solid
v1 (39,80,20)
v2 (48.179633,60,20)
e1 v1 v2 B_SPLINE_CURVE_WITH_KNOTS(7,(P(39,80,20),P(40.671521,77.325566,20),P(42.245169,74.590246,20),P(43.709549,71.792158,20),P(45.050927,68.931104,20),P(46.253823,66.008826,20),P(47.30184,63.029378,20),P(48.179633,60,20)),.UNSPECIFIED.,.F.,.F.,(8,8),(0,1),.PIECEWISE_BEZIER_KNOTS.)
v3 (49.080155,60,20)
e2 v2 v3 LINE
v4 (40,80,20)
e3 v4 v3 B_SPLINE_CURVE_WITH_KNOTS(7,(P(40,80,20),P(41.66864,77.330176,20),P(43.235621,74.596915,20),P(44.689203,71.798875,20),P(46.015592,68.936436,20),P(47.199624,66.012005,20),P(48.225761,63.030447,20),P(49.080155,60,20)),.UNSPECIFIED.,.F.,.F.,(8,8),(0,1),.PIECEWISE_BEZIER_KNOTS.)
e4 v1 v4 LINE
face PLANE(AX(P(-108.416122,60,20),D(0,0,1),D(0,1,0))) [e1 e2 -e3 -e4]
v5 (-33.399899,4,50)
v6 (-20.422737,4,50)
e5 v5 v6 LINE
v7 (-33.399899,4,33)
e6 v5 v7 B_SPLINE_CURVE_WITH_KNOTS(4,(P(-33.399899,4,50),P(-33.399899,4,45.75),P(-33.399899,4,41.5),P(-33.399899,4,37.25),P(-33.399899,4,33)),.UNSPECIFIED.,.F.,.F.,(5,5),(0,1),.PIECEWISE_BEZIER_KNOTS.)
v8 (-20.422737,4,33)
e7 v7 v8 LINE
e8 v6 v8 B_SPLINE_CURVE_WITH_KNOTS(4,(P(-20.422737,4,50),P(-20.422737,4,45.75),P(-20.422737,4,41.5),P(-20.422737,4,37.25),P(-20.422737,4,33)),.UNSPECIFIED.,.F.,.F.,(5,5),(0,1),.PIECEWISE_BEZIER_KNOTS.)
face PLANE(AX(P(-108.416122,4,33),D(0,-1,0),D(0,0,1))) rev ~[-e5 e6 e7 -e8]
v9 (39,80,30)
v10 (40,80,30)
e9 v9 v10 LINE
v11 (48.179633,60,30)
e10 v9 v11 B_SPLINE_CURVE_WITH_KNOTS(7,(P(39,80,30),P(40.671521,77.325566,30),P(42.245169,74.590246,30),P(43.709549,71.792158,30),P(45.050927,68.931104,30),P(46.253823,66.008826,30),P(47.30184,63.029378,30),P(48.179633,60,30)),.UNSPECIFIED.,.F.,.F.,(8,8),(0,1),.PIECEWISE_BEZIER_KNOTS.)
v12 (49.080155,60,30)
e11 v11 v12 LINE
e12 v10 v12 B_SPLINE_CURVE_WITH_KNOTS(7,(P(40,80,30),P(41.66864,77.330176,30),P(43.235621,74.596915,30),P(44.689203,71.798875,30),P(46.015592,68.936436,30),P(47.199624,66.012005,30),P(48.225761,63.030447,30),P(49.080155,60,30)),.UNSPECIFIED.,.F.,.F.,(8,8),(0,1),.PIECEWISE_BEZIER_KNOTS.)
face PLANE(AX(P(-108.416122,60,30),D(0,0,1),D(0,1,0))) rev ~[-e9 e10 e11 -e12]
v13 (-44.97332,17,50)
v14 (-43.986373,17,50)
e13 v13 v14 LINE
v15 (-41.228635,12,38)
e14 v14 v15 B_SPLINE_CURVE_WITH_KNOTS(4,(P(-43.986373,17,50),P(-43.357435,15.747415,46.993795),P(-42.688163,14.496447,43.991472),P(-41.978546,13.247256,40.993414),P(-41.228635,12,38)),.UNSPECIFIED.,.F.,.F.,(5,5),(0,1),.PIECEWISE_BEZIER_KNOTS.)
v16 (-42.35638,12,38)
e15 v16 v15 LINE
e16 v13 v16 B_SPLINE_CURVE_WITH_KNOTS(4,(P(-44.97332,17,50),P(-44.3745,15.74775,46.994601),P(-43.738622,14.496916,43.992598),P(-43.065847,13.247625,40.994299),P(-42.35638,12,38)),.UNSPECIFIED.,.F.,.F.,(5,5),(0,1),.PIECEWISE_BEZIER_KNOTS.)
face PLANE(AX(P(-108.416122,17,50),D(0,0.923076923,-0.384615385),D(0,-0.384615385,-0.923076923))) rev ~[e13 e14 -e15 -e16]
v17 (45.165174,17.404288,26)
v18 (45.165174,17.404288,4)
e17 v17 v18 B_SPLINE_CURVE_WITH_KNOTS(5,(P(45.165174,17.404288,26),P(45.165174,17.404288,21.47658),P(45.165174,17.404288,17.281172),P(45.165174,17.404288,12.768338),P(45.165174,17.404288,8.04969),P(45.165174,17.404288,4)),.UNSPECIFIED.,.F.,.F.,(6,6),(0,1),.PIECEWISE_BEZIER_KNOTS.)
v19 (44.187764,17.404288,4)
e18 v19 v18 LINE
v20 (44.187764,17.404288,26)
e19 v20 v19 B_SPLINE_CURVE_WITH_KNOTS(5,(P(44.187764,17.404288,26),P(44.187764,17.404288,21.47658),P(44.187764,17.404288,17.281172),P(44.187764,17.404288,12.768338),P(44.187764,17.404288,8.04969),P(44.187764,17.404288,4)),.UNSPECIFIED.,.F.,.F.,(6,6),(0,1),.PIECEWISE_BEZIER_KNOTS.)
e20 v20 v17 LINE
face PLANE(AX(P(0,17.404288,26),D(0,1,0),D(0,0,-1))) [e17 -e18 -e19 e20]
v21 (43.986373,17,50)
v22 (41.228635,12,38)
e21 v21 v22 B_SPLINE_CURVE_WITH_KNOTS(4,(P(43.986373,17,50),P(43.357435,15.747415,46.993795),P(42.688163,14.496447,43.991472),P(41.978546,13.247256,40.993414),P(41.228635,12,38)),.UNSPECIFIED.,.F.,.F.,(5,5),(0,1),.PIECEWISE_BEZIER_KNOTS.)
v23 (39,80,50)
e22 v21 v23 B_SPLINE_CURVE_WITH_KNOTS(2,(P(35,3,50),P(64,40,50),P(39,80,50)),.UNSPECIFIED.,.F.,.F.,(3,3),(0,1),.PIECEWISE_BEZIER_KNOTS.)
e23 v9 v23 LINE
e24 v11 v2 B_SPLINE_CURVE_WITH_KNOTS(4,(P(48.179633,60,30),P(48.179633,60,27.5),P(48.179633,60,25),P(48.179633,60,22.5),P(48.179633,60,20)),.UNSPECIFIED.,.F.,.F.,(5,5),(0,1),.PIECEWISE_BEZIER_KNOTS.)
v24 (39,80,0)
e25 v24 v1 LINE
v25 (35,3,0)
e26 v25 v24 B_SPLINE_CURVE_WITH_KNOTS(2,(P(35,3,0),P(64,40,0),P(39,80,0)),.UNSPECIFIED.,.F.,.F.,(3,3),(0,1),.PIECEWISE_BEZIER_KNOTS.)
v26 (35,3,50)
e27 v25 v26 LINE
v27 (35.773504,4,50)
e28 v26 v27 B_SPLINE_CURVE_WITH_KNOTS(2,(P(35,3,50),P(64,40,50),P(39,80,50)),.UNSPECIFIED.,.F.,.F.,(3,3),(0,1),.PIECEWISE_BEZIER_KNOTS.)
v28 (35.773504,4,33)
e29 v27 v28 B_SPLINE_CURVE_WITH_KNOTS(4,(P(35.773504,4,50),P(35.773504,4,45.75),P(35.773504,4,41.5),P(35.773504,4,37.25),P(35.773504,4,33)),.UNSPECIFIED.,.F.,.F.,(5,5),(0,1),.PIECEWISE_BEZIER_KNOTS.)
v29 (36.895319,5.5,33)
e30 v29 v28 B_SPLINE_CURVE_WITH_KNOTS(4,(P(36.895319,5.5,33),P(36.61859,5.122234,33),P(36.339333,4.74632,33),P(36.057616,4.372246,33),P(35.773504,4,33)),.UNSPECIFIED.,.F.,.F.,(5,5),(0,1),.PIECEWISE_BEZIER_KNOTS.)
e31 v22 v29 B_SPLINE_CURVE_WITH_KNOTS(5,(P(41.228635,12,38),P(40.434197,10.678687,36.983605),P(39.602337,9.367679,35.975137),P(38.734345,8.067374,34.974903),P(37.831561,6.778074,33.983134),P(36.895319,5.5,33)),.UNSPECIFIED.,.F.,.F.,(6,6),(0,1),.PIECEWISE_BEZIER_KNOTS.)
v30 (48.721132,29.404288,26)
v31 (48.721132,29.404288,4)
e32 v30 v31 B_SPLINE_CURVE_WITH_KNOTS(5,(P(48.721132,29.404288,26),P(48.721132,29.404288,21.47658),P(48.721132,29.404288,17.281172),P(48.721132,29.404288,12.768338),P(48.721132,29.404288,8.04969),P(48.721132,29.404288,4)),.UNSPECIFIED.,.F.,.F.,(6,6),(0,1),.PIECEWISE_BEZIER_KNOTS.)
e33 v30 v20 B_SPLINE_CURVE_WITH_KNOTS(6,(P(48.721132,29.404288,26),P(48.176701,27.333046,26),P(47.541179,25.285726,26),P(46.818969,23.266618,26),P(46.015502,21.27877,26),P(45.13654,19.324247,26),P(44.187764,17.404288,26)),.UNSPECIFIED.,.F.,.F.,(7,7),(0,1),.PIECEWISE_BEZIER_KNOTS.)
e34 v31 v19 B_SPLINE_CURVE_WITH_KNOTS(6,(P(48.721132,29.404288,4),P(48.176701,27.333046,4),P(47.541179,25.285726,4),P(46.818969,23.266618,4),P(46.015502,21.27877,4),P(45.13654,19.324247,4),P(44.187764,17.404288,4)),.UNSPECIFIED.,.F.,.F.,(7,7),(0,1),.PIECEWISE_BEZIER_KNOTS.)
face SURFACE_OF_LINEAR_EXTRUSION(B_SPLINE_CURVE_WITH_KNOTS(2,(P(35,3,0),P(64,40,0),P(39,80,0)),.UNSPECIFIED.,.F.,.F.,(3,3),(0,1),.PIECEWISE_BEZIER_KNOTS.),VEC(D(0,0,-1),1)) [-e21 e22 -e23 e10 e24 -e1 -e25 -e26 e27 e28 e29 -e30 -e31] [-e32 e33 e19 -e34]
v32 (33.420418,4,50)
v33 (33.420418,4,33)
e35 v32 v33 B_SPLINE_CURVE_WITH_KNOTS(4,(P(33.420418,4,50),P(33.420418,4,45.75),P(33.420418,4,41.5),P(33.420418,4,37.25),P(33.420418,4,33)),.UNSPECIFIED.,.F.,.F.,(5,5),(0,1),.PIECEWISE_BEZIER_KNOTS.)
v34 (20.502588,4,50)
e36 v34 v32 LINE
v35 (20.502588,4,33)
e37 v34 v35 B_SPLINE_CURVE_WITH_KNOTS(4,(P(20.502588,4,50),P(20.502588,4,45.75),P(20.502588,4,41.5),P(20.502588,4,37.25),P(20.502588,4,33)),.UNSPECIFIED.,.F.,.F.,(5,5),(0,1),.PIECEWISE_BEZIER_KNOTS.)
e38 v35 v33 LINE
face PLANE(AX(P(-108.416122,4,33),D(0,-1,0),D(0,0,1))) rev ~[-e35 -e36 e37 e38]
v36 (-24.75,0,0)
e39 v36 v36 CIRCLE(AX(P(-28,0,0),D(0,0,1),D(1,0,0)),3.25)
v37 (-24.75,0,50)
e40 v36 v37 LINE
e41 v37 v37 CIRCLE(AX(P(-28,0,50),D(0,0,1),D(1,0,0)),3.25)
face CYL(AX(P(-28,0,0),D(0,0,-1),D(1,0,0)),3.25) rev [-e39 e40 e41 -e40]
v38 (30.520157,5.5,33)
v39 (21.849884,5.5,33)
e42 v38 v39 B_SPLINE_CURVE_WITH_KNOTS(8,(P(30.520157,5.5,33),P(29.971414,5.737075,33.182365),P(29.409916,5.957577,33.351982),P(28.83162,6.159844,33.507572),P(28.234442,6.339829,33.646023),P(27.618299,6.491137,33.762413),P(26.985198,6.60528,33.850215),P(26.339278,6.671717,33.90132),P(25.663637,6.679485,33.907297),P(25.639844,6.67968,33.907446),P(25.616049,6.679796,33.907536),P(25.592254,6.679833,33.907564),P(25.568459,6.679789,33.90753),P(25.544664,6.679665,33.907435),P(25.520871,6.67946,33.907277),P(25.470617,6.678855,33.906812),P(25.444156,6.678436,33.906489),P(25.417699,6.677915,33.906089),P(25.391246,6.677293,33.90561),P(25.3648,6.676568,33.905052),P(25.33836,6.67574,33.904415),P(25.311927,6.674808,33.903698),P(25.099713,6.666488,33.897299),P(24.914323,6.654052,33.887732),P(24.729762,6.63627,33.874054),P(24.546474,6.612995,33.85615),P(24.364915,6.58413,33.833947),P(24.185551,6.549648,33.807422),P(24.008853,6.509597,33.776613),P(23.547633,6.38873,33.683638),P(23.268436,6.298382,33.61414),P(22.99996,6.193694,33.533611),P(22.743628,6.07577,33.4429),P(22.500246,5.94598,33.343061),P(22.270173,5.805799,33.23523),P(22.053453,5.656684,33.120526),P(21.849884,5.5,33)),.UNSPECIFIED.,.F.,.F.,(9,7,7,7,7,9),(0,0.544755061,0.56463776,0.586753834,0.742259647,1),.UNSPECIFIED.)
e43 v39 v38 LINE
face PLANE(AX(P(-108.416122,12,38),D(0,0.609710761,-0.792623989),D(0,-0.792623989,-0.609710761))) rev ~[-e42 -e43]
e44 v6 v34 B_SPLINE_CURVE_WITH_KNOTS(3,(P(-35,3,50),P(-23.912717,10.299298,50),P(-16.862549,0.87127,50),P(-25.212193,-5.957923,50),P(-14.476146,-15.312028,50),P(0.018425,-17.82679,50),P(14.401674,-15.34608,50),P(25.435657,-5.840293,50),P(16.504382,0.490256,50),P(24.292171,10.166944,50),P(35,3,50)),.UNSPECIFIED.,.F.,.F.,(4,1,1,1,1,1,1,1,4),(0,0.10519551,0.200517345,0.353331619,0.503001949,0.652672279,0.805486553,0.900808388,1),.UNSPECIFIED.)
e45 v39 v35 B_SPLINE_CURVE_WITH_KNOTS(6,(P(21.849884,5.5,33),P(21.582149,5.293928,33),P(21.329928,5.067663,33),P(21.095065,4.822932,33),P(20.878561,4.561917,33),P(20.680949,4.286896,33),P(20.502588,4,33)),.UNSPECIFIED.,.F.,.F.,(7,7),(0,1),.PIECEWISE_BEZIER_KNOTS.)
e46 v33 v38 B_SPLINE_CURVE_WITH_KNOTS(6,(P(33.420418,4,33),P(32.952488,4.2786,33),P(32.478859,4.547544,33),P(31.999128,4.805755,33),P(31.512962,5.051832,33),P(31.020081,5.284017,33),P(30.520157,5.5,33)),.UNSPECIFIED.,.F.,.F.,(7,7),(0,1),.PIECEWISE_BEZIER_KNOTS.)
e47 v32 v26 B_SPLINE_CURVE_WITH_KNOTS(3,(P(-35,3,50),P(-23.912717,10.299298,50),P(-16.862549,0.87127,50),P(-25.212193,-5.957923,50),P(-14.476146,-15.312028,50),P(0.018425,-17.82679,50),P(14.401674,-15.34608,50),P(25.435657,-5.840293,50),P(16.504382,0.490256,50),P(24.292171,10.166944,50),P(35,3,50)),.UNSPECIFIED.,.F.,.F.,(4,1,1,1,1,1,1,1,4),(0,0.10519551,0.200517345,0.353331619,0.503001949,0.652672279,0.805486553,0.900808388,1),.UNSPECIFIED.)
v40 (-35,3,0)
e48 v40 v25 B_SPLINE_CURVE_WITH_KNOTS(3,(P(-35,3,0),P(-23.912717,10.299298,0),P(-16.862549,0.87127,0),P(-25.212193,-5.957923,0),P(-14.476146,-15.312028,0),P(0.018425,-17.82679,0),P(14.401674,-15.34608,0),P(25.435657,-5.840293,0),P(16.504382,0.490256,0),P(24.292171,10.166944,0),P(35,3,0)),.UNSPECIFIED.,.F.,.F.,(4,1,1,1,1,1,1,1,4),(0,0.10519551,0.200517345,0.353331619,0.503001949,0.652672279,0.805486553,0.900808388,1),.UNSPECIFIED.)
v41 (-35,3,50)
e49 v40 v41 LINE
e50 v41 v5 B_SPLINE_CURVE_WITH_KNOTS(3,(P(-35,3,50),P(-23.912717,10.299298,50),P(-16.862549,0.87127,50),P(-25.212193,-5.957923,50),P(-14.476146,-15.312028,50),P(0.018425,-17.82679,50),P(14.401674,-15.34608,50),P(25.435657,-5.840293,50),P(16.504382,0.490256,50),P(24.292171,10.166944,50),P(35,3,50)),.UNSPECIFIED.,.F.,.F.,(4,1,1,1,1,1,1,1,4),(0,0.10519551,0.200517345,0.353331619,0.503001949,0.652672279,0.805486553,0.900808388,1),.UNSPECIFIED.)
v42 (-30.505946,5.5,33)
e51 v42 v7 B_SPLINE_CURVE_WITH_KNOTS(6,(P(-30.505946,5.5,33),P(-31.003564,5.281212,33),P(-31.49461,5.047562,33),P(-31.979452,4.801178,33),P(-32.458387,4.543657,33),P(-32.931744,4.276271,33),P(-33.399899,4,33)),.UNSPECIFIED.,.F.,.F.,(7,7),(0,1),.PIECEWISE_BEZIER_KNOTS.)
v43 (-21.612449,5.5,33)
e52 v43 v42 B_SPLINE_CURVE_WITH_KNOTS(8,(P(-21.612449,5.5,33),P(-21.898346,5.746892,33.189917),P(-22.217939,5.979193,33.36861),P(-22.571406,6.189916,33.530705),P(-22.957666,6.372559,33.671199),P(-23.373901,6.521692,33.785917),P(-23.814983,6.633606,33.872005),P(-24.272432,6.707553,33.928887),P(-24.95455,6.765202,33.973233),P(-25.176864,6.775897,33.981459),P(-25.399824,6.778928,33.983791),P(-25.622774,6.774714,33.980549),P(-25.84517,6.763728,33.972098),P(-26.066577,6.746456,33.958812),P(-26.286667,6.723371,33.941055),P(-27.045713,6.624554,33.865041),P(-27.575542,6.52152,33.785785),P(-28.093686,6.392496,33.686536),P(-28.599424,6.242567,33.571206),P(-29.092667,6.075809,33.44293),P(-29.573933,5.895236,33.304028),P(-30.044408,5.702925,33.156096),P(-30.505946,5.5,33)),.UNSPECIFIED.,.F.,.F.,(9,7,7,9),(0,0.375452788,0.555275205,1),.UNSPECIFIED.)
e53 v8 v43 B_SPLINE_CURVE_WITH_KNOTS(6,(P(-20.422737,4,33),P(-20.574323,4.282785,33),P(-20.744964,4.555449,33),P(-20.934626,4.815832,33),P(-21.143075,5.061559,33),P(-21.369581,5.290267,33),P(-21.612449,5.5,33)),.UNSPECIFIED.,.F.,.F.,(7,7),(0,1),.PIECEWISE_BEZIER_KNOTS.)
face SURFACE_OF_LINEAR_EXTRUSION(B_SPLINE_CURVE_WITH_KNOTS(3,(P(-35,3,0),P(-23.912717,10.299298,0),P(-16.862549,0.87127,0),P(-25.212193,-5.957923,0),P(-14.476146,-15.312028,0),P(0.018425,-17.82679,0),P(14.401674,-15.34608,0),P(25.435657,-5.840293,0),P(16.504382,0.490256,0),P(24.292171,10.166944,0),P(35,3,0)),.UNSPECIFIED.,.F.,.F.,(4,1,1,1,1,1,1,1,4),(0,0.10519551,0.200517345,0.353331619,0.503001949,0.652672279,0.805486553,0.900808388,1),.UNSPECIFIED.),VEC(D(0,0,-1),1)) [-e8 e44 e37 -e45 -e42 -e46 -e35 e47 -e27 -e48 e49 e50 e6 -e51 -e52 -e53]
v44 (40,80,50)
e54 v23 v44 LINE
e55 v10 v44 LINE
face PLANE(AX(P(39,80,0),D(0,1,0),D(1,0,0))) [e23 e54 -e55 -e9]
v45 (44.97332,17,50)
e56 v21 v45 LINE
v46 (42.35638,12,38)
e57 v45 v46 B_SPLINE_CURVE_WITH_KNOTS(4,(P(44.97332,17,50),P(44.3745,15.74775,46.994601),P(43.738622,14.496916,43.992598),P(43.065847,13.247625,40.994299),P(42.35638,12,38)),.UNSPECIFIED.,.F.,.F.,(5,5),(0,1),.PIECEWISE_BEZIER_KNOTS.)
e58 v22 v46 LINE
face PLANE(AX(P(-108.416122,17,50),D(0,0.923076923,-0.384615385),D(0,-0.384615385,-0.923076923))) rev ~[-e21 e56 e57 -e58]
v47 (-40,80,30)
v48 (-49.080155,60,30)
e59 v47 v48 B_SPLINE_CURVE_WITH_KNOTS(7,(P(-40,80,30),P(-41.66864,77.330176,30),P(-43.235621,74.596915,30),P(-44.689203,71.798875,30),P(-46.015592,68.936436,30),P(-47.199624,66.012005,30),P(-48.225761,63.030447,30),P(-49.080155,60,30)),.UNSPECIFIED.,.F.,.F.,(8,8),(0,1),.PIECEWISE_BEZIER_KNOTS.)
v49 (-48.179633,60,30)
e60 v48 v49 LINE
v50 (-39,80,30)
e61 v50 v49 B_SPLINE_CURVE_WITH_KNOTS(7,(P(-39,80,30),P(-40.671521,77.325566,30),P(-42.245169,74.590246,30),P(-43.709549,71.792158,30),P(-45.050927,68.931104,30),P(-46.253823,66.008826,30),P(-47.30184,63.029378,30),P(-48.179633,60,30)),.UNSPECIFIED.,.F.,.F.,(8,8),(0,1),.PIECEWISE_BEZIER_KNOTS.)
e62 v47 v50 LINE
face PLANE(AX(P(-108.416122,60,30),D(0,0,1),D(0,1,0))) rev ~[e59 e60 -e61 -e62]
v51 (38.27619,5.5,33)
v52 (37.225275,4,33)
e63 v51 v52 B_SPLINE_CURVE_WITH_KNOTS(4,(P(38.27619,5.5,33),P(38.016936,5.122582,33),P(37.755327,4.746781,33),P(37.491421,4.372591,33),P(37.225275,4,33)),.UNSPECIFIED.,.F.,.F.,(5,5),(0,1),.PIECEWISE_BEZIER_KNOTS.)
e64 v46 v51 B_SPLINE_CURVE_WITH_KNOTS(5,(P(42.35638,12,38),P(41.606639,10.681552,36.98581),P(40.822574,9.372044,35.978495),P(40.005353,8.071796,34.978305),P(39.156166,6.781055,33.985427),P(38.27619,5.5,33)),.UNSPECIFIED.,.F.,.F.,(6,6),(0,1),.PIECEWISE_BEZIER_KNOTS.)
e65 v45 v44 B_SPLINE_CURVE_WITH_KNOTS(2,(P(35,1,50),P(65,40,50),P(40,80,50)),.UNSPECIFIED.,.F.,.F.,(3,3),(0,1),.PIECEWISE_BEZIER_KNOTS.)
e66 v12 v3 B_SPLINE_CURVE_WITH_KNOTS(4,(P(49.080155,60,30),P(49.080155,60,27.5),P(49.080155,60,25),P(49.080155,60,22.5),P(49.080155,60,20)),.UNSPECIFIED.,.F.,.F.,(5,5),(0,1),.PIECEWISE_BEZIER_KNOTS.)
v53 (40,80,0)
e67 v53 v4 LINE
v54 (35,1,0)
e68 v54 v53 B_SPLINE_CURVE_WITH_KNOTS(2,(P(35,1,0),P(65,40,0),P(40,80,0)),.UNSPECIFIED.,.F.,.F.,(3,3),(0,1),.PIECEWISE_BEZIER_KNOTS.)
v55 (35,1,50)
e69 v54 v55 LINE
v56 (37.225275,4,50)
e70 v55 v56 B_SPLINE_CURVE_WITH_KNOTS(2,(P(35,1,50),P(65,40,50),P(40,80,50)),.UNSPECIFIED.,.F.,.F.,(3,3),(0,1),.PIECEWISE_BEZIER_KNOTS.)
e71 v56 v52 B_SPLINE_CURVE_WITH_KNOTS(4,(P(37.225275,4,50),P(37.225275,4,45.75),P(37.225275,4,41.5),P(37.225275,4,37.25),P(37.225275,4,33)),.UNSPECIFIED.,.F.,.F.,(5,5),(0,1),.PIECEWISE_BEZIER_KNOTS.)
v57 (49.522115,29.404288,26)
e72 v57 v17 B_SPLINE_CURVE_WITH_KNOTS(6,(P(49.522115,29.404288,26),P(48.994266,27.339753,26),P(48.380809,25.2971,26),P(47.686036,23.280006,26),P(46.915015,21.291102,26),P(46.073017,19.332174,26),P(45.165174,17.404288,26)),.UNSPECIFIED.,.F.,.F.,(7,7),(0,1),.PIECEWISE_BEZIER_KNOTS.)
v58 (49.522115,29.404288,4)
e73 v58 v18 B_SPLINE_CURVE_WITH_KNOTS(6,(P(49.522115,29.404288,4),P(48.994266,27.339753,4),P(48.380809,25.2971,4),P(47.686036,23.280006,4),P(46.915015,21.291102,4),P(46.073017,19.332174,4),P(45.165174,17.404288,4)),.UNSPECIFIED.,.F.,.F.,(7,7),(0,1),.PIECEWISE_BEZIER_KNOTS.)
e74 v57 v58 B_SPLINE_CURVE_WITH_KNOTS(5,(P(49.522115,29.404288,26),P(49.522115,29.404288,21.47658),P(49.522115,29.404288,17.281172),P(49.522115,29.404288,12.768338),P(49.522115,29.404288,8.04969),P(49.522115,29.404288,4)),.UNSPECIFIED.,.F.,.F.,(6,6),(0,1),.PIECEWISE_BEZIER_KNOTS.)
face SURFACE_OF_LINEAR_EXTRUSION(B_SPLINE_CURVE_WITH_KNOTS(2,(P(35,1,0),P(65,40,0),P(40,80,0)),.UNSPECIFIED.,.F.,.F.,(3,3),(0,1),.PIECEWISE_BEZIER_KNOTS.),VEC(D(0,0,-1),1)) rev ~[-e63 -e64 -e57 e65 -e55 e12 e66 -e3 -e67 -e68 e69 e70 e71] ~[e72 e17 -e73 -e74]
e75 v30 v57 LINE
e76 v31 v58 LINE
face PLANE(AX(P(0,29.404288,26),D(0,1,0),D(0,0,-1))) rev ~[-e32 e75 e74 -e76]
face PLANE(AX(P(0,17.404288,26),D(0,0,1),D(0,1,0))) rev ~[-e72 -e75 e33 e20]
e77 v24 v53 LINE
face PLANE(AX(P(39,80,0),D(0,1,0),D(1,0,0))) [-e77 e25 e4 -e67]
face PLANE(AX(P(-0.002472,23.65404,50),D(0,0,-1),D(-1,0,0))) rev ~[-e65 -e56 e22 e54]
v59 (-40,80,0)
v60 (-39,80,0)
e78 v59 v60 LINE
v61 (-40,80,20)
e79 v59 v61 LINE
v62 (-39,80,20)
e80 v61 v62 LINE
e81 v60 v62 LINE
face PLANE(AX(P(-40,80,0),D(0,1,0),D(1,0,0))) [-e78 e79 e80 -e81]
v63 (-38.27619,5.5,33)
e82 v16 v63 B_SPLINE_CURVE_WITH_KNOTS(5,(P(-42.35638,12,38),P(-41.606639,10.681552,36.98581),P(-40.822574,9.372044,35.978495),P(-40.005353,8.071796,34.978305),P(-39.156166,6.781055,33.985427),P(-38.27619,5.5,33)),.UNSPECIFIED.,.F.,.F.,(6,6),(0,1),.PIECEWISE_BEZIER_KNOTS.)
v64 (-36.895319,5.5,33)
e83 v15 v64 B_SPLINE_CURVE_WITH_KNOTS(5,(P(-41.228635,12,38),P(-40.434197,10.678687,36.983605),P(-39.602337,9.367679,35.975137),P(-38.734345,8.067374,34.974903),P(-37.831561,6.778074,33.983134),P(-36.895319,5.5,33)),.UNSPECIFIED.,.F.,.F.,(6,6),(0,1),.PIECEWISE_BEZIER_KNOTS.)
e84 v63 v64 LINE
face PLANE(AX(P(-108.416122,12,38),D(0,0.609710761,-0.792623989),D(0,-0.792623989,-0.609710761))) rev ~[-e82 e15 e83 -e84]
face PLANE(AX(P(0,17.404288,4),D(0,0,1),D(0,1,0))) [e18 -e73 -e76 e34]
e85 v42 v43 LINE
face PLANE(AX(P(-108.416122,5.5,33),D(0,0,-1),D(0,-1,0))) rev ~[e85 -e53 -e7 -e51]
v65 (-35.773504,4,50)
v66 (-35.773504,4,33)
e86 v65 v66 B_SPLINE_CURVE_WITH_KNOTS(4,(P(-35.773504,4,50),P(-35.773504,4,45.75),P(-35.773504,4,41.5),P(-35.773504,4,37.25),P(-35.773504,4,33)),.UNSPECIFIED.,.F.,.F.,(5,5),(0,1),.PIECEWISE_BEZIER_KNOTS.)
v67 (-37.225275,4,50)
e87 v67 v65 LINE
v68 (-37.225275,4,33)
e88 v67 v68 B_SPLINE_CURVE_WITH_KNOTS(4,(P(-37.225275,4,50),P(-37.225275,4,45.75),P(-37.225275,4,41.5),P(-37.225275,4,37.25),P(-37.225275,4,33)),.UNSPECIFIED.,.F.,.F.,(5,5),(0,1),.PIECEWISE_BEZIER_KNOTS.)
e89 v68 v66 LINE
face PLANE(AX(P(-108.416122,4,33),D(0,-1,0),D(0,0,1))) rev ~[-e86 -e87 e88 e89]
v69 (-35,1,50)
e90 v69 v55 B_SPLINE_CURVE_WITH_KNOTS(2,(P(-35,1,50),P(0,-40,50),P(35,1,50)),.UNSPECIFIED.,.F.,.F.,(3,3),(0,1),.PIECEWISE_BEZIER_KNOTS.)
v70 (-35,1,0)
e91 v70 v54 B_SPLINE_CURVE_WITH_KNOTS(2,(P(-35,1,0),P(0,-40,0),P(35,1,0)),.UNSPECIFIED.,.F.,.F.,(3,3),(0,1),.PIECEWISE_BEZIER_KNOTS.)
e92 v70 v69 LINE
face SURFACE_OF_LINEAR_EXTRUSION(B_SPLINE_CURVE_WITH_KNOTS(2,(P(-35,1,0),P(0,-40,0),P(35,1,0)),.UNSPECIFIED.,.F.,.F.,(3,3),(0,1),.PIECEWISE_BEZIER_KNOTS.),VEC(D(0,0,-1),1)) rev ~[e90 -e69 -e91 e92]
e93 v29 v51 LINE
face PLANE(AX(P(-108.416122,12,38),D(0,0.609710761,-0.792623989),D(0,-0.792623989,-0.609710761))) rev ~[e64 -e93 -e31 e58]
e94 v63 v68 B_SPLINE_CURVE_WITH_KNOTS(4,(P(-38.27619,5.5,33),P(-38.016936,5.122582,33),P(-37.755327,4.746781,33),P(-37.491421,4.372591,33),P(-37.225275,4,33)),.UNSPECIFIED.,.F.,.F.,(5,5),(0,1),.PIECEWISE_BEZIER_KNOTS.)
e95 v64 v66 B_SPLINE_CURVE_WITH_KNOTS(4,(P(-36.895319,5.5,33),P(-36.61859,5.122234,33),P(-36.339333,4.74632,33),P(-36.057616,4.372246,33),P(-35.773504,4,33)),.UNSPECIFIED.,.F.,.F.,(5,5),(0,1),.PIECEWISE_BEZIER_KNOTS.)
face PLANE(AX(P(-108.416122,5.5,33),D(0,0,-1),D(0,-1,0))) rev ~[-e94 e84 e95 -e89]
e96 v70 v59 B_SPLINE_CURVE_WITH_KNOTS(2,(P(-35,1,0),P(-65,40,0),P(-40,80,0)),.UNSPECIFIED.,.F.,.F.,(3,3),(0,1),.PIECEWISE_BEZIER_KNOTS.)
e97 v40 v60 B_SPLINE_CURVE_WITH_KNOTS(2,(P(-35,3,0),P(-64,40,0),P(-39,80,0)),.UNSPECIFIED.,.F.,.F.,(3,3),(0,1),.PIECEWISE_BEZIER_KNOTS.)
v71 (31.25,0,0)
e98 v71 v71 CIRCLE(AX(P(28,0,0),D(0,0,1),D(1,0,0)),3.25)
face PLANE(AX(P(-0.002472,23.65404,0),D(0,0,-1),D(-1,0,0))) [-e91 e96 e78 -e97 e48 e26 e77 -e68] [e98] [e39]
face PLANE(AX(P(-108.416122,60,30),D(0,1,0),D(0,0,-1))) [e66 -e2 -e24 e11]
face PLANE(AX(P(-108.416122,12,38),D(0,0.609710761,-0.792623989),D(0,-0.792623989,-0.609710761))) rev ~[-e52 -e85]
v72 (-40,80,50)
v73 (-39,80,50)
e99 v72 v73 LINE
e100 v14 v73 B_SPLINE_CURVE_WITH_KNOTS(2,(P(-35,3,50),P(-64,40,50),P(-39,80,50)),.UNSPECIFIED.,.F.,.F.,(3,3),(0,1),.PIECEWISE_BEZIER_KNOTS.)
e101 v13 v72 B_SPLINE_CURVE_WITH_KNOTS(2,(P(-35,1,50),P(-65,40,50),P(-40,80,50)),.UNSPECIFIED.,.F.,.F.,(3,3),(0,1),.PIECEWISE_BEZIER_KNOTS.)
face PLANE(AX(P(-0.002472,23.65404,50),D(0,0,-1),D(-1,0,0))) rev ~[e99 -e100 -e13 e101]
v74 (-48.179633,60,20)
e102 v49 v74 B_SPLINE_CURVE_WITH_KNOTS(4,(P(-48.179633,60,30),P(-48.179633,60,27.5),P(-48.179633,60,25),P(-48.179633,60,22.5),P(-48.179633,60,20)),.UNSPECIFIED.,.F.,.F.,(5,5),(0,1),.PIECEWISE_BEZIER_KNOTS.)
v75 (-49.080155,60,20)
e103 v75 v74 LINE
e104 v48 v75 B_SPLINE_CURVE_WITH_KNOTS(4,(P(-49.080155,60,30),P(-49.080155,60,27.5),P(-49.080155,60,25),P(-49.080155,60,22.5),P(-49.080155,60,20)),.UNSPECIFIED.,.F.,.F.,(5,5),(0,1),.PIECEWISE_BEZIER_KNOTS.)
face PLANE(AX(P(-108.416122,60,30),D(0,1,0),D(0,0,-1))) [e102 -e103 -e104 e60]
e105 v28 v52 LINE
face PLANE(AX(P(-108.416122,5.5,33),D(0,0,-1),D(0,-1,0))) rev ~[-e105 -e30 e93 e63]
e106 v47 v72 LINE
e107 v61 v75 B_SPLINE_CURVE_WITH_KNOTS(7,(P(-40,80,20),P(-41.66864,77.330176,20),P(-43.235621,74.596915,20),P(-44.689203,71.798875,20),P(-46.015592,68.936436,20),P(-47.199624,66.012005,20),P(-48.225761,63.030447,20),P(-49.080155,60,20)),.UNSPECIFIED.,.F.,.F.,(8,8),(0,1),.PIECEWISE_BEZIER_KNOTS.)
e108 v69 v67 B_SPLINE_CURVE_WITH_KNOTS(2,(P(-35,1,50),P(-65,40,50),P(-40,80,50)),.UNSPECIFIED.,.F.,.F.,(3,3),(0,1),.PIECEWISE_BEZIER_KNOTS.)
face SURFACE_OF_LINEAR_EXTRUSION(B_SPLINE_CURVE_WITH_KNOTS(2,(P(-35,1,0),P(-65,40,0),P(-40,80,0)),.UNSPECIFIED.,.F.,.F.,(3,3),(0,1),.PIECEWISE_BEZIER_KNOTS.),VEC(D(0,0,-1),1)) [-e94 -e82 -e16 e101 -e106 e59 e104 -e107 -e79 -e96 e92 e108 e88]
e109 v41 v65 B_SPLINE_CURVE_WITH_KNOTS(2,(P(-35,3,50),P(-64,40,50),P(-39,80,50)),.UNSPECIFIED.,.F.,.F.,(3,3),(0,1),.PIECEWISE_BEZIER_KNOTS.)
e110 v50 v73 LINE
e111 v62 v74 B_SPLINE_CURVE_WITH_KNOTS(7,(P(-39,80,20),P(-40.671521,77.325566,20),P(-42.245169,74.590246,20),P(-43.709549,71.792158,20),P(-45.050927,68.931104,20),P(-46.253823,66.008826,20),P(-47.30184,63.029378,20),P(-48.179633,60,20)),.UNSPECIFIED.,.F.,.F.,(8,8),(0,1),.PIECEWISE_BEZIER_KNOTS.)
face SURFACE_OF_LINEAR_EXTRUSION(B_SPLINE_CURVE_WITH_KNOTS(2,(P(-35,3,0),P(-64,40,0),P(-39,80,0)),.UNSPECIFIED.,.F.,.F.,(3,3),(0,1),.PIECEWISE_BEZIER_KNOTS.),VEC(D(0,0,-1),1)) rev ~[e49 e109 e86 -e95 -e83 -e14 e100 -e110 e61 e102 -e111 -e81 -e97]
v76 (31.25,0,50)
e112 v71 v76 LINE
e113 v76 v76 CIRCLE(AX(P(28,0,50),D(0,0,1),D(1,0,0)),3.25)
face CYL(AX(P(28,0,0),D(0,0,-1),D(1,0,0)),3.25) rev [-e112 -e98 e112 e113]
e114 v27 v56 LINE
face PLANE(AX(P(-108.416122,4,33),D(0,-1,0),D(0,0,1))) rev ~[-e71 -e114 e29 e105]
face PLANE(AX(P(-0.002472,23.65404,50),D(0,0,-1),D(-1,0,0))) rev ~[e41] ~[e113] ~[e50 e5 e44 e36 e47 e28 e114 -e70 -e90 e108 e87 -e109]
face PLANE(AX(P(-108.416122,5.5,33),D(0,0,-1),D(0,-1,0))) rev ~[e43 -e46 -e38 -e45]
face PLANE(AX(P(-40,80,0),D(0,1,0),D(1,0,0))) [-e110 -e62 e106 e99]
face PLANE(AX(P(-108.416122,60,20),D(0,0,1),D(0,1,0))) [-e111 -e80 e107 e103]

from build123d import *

# Parameters (mm, degrees)
SKETCH_1_R               = 3.25
EXTRUDE_1_DEPTH          = 50
CUT_EXTRUDE_2_DEPTH      = 108.416121587
CUT_EXTRUDE_2_DEPTH_BACK = 108.416121587
CUT_EXTRUDE_3_DEPTH      = 108.416121587
CUT_EXTRUDE_3_DEPTH_BACK = 108.416121587
SKETCH_3_W               = 10
SKETCH_3_H               = 20
SKETCH_4_W               = 22
SKETCH_4_H               = 12
CUT_EXTRUDE_4_DEPTH      = 108.416121587


with BuildPart() as part:
    # 草圖1 → 填料-伸長1 (new body)
    with BuildSketch(Plane.XY):
        with BuildLine():
            Line((-40, 80), (-39, 80))
            add(Edge.make_bspline(
                [(-35, 3), (-64, 40), (-39, 80)],
                knots=[0, 0, 0, 1, 1, 1], degree=2))
            add(Edge.make_bspline(
                [(-35, 3), (-23.912717134, 10.299298392), (-16.862548977, 0.871270246), (-25.21219254, -5.957923056), (-14.476146204, -15.312027713), (0.018424546, -17.826789504), (14.401673974, -15.346079531), (25.43565684, -5.840292798), (16.50438221, 0.490256203), (24.292170801, 10.166944331), (35, 3)],
                knots=[0, 0, 0, 0, 0.10519551, 0.200517345, 0.353331619, 0.503001949, 0.652672279, 0.805486553, 0.900808388, 1, 1, 1, 1], degree=3))
            add(Edge.make_bspline(
                [(35, 3), (64, 40), (39, 80)],
                knots=[0, 0, 0, 1, 1, 1], degree=2))
            Line((39, 80), (40, 80))
            add(Edge.make_bspline(
                [(35, 1), (65, 40), (40, 80)],
                knots=[0, 0, 0, 1, 1, 1], degree=2))
            add(Edge.make_bspline(
                [(-35, 1), (0, -40), (35, 1)],
                knots=[0, 0, 0, 1, 1, 1], degree=2))
            add(Edge.make_bspline(
                [(-35, 1), (-65, 40), (-40, 80)],
                knots=[0, 0, 0, 1, 1, 1], degree=2))
        make_face()
        with Locations((-28, 0)):
            Circle(SKETCH_1_R, mode=Mode.SUBTRACT)
        with Locations((28, 0)):
            Circle(SKETCH_1_R, mode=Mode.SUBTRACT)
    extrude(amount=EXTRUDE_1_DEPTH)

    # 草圖2 → 除料-伸長2 (cut, two sides: drawn at the far end of the back side and taken through both)
    with BuildSketch(Plane(origin=(0, 0, 0), x_dir=(0, 0, -1), z_dir=(1, 0, 0)).offset(-CUT_EXTRUDE_2_DEPTH_BACK)):
        Polygon((-133, 13.5), (-50, 13.5), (-50, 17), (-38, 12), (-33, 5.5), (-33, 4), (-50, 4), (-56.745181032, 0.5), (-133, 0.5), align=None)
    extrude(amount=CUT_EXTRUDE_2_DEPTH + CUT_EXTRUDE_2_DEPTH_BACK, mode=Mode.SUBTRACT)

    # 草圖3 → 除料-伸長3 (cut, two sides: drawn at the far end of the back side and taken through both)
    with BuildSketch(Plane(origin=(0, 0, 0), x_dir=(0, 0, -1), z_dir=(1, 0, 0)).offset(-CUT_EXTRUDE_3_DEPTH_BACK)):
        with Locations((-25, 70)):
            Rectangle(SKETCH_3_W, SKETCH_3_H)
    extrude(amount=CUT_EXTRUDE_3_DEPTH + CUT_EXTRUDE_3_DEPTH_BACK, mode=Mode.SUBTRACT)

    # 草圖4 → 除料-伸長4 (cut, through all)
    with BuildSketch(Plane(origin=(0, 0, 0), x_dir=(0, 0, -1), z_dir=(1, 0, 0))):
        with Locations((-15, 23.404287559)):
            Rectangle(SKETCH_4_W, SKETCH_4_H)
    extrude(amount=CUT_EXTRUDE_4_DEPTH, mode=Mode.SUBTRACT)


solid = part.part
